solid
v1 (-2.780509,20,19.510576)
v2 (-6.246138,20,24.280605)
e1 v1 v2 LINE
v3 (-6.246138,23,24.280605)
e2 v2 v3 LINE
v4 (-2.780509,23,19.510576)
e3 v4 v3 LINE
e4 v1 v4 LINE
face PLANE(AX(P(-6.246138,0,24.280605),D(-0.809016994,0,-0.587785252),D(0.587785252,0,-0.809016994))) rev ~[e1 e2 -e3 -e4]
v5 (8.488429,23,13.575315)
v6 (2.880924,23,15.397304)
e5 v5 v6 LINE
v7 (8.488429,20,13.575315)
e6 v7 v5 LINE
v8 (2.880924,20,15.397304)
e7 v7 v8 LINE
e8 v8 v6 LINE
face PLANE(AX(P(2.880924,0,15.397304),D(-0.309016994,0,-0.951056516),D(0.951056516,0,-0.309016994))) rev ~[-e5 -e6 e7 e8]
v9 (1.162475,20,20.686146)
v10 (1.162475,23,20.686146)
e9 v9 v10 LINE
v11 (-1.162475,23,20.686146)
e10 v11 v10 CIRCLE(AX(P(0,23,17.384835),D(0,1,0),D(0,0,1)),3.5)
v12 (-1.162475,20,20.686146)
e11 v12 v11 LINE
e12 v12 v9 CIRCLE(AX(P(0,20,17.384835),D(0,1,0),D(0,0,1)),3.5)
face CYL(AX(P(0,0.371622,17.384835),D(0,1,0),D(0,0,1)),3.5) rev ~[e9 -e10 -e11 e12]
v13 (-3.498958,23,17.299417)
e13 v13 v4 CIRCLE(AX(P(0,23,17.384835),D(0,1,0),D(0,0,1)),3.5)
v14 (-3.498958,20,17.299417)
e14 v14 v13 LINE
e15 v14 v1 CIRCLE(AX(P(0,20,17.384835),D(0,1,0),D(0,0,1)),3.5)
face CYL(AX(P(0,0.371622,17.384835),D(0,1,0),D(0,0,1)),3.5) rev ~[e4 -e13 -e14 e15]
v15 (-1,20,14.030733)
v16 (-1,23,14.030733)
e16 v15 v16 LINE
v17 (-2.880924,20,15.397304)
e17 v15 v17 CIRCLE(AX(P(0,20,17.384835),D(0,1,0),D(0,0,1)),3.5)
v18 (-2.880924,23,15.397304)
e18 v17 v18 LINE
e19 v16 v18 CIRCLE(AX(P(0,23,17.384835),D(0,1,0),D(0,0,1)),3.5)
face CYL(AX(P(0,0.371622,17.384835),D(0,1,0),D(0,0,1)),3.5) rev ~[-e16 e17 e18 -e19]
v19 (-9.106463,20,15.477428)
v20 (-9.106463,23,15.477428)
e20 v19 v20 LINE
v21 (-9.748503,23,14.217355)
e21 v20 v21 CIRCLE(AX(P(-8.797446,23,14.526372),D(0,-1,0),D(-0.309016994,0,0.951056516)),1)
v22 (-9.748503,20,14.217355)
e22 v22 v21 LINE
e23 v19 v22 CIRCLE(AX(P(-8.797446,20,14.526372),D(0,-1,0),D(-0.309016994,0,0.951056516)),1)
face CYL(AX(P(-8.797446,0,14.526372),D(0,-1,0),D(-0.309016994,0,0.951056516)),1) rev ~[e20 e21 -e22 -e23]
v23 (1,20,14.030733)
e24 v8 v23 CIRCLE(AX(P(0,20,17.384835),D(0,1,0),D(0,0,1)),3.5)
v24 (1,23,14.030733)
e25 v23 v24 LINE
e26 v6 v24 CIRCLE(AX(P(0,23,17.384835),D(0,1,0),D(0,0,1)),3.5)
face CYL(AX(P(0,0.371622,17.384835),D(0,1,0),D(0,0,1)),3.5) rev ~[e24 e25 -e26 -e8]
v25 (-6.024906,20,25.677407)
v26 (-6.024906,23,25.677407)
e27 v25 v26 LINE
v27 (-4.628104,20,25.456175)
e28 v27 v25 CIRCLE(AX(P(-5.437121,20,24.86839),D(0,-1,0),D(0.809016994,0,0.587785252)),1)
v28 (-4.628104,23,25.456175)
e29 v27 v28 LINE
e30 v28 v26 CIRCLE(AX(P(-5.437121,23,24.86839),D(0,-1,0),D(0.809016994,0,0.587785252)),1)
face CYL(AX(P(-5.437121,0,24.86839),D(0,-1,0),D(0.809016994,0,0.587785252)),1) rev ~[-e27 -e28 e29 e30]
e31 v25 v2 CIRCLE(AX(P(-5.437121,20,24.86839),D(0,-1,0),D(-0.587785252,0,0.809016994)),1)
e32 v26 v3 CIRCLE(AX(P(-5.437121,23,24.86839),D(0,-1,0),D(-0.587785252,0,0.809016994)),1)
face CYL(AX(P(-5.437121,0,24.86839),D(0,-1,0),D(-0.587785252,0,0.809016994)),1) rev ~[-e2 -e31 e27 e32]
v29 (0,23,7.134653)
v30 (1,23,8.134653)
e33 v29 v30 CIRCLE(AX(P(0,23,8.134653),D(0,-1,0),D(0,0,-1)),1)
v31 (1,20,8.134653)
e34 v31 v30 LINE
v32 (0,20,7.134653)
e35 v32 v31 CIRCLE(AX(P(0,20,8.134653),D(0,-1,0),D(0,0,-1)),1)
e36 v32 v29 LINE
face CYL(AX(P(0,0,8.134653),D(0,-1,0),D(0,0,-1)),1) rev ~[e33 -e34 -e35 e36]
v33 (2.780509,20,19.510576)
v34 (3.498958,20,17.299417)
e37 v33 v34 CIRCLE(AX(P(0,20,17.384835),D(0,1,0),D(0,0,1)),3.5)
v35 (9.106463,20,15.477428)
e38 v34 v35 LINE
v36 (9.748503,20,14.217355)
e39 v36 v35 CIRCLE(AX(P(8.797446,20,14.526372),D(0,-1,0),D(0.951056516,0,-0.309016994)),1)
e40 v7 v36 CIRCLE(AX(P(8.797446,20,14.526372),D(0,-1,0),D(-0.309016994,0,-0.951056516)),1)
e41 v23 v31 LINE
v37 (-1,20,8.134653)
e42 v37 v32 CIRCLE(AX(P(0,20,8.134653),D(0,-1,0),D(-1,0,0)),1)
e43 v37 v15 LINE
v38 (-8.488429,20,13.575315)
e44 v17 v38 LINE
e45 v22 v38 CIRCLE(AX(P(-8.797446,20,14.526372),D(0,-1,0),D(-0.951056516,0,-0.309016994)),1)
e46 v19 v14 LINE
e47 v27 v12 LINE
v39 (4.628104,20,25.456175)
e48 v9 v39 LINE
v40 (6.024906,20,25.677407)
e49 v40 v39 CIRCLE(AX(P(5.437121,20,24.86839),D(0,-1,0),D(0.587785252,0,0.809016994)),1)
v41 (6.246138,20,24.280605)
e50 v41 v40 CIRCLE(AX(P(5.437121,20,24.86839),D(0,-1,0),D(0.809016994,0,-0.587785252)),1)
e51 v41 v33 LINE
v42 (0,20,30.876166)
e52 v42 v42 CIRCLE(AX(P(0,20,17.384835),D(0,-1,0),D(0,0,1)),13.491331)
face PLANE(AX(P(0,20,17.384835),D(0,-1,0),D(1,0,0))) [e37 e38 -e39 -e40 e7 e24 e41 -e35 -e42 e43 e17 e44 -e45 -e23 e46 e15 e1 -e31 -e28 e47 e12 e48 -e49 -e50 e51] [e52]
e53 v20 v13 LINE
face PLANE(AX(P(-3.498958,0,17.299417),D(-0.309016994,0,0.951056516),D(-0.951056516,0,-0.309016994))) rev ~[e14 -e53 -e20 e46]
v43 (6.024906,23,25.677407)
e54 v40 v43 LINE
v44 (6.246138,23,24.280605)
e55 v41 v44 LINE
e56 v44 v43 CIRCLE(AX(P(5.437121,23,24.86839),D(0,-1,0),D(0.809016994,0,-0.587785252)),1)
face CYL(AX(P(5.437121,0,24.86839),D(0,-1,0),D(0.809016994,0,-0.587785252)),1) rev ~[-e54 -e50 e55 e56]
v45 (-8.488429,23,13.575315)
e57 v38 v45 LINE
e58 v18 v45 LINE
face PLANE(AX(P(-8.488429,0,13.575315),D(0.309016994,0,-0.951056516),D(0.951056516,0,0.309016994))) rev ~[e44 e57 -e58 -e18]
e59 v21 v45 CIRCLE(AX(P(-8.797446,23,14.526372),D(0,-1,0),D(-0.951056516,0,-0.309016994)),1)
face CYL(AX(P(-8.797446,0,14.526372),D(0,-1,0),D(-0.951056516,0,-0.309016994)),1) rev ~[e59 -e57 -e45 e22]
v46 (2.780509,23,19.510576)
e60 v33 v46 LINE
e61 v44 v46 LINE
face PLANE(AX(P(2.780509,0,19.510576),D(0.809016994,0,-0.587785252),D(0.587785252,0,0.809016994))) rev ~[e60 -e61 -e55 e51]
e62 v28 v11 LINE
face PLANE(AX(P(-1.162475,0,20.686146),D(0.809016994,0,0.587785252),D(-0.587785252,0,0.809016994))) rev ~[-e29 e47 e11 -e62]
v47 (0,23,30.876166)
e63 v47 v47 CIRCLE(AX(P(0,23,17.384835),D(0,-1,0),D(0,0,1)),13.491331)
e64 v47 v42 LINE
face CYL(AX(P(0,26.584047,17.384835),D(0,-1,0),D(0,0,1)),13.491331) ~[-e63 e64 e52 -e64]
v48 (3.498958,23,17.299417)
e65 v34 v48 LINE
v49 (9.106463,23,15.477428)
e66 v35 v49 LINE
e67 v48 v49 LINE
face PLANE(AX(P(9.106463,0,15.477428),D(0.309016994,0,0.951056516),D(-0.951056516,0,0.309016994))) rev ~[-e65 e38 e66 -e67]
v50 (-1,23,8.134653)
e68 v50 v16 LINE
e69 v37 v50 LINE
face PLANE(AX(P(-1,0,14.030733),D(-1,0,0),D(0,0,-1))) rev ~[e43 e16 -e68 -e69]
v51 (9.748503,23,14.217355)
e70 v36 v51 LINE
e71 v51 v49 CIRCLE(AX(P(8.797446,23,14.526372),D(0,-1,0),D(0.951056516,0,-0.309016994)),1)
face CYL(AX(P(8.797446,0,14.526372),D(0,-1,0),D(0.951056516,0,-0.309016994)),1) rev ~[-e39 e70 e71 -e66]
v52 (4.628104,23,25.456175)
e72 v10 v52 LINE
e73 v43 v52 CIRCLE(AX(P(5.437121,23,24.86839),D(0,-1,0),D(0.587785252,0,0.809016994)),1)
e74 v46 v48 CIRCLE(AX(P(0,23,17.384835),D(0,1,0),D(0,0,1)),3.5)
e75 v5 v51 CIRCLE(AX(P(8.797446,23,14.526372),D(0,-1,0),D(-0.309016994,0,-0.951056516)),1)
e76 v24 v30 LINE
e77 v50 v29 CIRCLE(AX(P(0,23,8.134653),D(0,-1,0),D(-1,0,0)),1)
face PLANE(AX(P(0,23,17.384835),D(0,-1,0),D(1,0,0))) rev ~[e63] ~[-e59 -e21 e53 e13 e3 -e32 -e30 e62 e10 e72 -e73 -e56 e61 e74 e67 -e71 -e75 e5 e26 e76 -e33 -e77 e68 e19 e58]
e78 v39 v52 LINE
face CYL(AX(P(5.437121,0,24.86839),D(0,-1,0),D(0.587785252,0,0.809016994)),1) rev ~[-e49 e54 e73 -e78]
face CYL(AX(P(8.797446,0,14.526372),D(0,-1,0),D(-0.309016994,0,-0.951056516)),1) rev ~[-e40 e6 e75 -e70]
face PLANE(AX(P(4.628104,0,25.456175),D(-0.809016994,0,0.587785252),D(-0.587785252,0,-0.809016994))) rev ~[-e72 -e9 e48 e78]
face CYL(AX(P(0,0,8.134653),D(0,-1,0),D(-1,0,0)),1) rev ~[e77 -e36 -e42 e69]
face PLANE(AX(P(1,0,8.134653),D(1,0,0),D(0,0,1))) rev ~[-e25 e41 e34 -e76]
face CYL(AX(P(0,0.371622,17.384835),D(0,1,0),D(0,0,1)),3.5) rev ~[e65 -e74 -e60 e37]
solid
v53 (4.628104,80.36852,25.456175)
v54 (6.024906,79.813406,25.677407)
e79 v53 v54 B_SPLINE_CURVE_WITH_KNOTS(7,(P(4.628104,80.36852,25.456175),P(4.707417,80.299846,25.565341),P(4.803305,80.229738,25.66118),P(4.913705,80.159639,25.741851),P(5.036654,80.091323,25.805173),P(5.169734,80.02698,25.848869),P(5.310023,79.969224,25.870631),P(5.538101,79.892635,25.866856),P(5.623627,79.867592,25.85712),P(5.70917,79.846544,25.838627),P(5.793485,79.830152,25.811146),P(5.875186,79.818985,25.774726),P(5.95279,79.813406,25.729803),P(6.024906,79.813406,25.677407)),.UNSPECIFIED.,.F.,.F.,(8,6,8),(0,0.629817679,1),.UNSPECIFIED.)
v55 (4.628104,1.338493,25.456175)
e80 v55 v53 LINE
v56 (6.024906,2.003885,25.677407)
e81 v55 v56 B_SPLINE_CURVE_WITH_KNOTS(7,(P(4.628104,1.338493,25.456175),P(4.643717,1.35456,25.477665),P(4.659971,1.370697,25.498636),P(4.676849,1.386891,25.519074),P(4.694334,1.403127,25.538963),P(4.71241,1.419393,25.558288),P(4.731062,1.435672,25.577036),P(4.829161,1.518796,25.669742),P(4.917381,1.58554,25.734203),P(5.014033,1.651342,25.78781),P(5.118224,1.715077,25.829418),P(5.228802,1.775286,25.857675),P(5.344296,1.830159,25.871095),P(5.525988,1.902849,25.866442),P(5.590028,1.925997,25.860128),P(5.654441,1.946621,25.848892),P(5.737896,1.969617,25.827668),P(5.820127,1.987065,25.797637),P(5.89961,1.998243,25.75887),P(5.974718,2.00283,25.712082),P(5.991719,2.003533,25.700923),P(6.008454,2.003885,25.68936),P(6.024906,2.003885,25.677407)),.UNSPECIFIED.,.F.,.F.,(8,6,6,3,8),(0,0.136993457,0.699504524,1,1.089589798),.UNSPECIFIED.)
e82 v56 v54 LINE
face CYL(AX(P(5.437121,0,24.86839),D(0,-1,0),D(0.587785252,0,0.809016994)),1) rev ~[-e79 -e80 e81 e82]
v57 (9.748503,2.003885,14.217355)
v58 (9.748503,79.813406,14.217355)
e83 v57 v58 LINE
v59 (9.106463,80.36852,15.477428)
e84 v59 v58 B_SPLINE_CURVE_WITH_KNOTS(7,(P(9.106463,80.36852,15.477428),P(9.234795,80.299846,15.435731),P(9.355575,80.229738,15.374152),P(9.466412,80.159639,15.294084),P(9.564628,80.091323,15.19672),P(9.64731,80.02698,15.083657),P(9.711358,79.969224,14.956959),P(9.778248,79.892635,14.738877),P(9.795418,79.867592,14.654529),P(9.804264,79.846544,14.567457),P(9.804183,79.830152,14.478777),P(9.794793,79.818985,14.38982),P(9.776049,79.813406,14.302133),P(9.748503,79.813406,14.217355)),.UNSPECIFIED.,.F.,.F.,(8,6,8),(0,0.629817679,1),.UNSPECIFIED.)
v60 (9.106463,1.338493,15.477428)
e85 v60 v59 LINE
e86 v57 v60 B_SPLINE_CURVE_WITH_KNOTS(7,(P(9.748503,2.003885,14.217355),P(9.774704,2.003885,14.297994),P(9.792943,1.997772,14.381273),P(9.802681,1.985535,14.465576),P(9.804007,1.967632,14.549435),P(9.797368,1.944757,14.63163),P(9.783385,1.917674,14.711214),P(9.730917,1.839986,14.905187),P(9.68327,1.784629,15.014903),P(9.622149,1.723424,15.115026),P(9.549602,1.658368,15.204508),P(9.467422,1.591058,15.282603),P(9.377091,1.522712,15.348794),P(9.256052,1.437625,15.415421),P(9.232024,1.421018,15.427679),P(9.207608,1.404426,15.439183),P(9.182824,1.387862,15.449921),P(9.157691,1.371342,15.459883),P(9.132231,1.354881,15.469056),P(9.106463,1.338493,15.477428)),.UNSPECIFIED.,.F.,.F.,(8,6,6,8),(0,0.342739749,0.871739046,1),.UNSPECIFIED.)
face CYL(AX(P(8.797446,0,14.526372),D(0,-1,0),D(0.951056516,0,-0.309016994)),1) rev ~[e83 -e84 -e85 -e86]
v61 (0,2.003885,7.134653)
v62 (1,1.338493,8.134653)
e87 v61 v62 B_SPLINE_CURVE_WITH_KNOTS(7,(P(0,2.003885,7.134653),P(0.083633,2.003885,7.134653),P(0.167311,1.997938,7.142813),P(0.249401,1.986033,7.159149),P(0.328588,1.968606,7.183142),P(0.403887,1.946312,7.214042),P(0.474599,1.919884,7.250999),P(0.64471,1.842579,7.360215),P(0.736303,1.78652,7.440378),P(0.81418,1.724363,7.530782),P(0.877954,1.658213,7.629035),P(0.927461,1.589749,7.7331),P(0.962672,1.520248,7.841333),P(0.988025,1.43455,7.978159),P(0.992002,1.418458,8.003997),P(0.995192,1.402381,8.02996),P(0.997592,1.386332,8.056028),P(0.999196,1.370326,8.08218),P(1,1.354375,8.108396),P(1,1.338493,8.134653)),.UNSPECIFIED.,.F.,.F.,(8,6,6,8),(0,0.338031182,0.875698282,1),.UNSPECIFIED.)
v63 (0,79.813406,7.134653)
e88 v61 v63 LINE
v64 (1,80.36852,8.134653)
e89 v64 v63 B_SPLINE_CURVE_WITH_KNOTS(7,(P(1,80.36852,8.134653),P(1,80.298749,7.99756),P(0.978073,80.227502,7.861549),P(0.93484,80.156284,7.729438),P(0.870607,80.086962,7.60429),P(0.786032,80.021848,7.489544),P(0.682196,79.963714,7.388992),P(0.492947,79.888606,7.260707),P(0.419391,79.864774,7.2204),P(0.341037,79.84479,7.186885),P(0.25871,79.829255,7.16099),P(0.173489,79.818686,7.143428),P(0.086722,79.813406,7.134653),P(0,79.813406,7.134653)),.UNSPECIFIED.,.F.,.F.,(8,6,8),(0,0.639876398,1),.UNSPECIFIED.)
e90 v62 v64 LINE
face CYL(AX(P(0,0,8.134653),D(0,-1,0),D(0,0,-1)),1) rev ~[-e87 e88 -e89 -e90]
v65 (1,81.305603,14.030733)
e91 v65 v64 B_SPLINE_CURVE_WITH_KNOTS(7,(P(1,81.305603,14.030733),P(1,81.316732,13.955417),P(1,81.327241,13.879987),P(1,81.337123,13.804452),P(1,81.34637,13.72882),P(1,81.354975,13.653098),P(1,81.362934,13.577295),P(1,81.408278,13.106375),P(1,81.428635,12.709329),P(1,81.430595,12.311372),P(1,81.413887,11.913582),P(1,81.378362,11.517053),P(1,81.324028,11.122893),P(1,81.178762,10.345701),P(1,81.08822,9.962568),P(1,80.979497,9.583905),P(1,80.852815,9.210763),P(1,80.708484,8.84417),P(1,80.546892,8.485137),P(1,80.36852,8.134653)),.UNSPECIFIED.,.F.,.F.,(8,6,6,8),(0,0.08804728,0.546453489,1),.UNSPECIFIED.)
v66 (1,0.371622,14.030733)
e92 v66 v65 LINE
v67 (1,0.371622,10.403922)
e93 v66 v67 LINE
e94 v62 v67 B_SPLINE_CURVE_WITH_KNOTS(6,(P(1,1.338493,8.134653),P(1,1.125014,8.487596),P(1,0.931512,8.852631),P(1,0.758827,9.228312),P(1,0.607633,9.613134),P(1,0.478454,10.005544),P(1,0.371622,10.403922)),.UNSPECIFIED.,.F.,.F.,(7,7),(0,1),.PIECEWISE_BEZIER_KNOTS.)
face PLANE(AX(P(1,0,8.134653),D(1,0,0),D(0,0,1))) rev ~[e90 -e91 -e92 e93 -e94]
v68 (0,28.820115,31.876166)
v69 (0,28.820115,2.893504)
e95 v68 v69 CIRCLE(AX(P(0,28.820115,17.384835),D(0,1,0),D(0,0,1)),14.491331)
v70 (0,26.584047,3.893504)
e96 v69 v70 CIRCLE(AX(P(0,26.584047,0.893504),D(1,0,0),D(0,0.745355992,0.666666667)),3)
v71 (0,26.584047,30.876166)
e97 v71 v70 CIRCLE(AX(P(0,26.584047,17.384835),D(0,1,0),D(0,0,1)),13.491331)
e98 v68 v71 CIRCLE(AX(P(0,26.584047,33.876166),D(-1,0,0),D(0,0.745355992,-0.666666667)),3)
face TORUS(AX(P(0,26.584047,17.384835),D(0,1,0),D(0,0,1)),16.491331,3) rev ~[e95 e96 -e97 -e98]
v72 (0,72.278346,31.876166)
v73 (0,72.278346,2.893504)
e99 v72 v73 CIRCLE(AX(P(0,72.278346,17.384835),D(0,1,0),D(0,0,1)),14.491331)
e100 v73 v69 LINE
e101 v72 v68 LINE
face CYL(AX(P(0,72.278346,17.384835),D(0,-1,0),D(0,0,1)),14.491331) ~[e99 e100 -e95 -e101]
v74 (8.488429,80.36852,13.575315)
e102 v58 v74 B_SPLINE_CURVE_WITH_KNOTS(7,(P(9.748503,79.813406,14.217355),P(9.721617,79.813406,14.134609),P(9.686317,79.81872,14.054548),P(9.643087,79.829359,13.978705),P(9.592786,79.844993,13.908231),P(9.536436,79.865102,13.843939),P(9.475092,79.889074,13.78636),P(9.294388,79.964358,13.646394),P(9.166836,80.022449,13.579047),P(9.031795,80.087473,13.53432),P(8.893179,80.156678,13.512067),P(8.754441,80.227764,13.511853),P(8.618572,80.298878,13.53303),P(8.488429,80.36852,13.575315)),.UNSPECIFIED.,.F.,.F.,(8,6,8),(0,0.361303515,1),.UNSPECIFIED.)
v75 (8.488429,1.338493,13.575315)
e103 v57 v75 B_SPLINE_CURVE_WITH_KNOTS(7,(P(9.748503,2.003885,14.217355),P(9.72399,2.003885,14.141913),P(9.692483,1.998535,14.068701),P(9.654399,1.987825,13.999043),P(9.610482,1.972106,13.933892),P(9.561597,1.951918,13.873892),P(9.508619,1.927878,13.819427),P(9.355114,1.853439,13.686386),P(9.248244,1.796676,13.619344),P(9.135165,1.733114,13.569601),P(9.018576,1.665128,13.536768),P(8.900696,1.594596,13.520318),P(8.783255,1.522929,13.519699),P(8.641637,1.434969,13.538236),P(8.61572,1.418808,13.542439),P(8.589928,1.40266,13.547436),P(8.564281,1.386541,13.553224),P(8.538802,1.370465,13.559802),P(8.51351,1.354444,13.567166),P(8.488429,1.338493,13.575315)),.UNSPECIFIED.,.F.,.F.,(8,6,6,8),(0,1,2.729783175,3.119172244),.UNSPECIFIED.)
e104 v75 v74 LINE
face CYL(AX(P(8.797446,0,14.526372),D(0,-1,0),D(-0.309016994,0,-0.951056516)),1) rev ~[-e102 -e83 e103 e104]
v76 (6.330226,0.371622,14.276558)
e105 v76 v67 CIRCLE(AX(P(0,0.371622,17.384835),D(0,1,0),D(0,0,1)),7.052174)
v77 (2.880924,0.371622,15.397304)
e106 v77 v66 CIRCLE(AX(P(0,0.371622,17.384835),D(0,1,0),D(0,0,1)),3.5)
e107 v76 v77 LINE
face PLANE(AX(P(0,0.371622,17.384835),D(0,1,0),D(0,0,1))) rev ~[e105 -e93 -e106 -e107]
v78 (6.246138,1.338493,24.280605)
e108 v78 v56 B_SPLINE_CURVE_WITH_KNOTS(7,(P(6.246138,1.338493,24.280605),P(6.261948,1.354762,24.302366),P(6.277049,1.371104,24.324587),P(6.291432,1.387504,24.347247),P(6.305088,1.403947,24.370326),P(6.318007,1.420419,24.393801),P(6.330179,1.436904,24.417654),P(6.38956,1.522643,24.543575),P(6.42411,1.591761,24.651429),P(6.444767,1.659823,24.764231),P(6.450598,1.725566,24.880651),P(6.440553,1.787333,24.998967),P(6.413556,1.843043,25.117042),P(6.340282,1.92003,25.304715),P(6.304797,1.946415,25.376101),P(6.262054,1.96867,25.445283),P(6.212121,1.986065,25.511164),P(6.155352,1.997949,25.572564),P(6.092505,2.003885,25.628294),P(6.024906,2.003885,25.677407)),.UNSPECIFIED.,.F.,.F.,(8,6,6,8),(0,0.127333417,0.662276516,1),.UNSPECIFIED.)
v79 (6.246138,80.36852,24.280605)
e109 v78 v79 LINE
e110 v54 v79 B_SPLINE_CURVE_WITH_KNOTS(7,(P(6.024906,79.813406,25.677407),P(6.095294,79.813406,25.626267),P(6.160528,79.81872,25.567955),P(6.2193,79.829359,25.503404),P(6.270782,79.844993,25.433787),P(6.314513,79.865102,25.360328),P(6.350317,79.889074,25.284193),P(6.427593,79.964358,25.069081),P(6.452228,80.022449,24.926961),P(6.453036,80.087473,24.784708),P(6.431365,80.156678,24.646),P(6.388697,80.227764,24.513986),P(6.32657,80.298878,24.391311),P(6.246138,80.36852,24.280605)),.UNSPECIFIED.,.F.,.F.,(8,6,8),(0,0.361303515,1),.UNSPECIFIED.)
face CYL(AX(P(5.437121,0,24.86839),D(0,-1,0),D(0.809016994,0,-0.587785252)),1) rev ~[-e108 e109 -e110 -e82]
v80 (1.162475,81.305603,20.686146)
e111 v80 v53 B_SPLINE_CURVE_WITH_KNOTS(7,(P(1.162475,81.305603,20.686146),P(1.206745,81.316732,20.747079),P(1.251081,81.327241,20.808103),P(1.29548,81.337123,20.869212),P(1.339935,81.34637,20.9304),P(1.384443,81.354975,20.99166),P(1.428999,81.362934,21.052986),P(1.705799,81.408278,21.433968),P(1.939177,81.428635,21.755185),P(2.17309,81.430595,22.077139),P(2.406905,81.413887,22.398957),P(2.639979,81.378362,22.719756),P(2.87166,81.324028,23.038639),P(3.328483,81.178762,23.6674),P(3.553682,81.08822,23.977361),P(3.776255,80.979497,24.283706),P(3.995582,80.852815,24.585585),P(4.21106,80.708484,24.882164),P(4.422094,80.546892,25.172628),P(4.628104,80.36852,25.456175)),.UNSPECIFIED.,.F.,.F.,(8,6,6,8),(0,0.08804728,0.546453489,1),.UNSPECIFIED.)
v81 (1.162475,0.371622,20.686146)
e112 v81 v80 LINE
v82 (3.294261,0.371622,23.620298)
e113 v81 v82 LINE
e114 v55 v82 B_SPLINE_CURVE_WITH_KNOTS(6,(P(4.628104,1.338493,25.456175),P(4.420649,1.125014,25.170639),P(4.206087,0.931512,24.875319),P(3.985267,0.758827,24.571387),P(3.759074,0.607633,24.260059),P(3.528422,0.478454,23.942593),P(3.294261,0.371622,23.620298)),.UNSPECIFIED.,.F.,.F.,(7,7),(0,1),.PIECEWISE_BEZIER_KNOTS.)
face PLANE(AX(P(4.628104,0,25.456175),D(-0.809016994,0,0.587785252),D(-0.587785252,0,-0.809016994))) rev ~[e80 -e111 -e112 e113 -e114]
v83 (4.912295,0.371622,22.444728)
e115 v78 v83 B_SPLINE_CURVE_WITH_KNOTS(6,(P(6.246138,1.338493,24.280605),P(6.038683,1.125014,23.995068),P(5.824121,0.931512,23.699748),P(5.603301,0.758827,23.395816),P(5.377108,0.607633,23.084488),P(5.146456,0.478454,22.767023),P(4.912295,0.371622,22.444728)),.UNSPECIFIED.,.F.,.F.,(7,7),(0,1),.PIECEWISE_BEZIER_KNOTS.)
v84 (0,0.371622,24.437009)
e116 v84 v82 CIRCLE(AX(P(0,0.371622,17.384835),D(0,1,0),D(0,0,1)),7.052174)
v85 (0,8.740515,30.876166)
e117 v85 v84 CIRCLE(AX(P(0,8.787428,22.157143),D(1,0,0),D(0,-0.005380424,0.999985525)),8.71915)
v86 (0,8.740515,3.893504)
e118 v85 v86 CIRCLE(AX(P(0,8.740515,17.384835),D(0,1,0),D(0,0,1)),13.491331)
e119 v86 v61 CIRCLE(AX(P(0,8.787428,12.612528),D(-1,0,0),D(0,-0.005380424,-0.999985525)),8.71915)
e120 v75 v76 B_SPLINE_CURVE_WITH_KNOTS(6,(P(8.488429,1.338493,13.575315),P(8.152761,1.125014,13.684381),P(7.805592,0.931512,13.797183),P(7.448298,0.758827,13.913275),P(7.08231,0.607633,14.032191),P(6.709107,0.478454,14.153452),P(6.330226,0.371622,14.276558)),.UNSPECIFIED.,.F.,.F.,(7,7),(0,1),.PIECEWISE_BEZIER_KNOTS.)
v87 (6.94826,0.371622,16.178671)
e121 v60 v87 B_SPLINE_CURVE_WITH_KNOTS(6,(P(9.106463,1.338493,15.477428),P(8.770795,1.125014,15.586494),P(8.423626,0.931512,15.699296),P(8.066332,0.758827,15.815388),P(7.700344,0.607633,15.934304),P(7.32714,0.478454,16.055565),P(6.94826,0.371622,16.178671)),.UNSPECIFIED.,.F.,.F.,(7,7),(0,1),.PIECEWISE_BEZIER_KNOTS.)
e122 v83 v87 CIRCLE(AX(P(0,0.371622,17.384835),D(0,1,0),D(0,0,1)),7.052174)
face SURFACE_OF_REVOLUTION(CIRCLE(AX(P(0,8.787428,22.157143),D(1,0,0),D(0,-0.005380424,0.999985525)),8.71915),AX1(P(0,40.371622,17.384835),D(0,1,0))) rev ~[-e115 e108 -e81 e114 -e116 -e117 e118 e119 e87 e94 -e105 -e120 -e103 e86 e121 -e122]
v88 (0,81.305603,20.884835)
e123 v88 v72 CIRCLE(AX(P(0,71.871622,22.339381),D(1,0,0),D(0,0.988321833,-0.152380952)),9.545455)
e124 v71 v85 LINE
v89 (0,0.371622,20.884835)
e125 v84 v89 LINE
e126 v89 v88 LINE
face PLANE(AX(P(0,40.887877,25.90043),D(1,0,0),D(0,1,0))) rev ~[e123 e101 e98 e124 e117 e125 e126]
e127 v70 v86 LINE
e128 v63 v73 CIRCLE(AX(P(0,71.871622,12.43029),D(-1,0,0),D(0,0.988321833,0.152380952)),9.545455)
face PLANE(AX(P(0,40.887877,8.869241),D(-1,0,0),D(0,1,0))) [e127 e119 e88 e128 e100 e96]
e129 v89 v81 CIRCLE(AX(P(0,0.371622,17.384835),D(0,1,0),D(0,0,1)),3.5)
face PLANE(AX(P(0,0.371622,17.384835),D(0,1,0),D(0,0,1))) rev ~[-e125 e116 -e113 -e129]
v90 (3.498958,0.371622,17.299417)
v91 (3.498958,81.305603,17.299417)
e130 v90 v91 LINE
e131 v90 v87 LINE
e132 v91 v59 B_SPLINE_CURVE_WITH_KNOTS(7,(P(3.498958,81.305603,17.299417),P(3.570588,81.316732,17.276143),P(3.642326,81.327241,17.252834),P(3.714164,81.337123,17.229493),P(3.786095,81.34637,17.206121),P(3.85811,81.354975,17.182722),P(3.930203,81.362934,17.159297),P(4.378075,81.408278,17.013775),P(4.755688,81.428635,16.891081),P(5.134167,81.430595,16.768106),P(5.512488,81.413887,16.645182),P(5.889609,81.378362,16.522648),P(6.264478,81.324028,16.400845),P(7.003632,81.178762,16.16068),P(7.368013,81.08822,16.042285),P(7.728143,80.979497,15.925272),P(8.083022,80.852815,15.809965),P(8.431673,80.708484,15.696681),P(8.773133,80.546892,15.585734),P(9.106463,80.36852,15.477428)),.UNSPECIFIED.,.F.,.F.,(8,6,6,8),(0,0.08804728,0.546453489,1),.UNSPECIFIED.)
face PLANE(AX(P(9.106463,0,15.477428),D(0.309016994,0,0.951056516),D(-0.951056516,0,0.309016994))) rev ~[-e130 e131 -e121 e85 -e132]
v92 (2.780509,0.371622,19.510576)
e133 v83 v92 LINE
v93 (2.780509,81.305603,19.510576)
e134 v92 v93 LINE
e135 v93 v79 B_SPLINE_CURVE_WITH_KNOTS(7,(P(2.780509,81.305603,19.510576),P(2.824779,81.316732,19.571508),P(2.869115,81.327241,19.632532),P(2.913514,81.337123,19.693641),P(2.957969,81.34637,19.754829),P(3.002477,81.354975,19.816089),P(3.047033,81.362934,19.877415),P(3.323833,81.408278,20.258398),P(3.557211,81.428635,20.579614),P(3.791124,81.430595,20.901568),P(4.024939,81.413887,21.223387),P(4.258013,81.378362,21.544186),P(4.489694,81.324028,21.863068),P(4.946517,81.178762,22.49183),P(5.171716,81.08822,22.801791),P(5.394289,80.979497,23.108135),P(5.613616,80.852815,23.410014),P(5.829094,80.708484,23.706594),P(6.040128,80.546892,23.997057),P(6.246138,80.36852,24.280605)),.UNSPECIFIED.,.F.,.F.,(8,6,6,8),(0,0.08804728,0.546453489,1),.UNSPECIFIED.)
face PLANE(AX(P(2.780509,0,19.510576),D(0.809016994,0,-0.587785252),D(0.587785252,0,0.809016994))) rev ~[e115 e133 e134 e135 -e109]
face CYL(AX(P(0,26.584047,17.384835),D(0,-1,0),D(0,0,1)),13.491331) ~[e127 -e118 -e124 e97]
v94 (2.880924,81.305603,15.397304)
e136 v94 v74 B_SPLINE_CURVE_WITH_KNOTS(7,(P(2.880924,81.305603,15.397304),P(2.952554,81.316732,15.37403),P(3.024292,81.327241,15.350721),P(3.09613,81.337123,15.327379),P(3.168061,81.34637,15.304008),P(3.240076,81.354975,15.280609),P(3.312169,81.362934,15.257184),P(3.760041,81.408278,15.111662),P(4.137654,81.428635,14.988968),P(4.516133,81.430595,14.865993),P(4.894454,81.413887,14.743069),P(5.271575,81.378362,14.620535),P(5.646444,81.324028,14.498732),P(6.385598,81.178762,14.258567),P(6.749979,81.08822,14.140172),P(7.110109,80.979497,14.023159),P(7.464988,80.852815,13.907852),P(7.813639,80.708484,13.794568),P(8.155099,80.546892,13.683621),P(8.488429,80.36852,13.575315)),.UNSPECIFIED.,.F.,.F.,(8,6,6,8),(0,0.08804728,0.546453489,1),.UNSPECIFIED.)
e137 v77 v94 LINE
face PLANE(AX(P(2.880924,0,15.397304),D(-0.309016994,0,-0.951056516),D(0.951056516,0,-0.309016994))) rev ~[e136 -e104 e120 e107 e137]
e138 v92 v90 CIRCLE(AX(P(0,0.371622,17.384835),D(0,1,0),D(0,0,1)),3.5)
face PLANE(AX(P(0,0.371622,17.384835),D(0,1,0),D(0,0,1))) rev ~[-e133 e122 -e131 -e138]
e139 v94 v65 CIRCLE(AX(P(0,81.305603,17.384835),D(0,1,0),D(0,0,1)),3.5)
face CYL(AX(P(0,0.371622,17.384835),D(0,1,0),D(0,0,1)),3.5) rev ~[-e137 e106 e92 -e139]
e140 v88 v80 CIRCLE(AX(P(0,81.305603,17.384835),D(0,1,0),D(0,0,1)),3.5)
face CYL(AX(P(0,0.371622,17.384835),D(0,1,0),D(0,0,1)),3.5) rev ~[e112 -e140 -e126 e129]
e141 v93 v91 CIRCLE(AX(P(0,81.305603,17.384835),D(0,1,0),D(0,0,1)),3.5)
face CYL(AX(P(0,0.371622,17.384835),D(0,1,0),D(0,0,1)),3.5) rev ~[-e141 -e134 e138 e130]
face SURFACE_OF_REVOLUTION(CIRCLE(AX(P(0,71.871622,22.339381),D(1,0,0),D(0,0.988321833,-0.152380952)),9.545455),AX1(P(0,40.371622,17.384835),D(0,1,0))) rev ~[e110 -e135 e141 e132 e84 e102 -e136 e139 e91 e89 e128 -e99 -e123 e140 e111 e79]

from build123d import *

# Parameters (mm, degrees)
F4_ANGLE  = 180
F6_DEPTH  = 90
F8_COUNT  = 5
F12_START = -20
F11_R     = 13.4913344195
F12_DEPTH = 3


with BuildPart() as f4:
    # F3 (on Right) → F4 (revolve)
    with BuildSketch(Plane.YZ):
        with BuildLine():
            Line((0.3716222048, 20.884835436), (81.3056033368, 20.884835436))
            ThreePointArc((81.3056033368, 20.884835436), (79.2480851868, 28.3977219469), (72.2783456923, 31.8761664331))
            Line((72.2783456923, 31.8761664331), (28.8201148927, 31.8761664331))
            ThreePointArc((28.8201148927, 31.8761664331), (27.8087917866, 31.1375536456), (26.5840469152, 30.8761664331))
            Line((26.5840469152, 30.8761664331), (8.8330505692, 30.8761664331))
            Line((8.8330505692, 30.8761664331), (8.7405150061, 30.8761664331))
            ThreePointArc((8.7405150061, 30.8761664331), (3.470465515, 29.0675325384), (0.3716222048, 24.4370089889))
            Line((0.3716222048, 24.4370089889), (0.3716222048, 20.884835436))
        make_face()
    revolve(axis=Axis((0, 40.3716222048, 17.384835436), (0, 1, 0)), revolution_arc=F4_ANGLE)


with BuildPart() as f6:
    # F5 (on Front) → F6 (new body)
    with BuildSketch(Plane.XZ):
        with BuildLine():
            ThreePointArc((1, 14.0307334698), (0, 13.884835436), (-1, 14.0307334698))
            Line((-1, 14.0307334698), (-1, 8.1346530026))
            ThreePointArc((-1, 8.1346530026), (-0.7071067812, 7.4275462214), (0, 7.1346530026))
            ThreePointArc((0, 7.1346530026), (0.7071067812, 7.4275462214), (1, 8.1346530026))
            Line((1, 8.1346530026), (1, 14.0307334698))
        make_face()
    extrude(amount=-F6_DEPTH)


with BuildPart() as f8_1:
    # F8: instance of F6
    add(f6.part.rotate(Axis((0, 20.536005497, 17.384835436), (0, 1, 0)), 1 * 360 / F8_COUNT))


with BuildPart() as f8_2:
    # F8: instance of F6
    add(f6.part.rotate(Axis((0, 20.536005497, 17.384835436), (0, 1, 0)), 2 * 360 / F8_COUNT))


with BuildPart() as f8_3:
    # F8: instance of F6
    add(f6.part.rotate(Axis((0, 20.536005497, 17.384835436), (0, 1, 0)), 3 * 360 / F8_COUNT))


with BuildPart() as f8_4:
    # F8: instance of F6
    add(f6.part.rotate(Axis((0, 20.536005497, 17.384835436), (0, 1, 0)), 4 * 360 / F8_COUNT))


with BuildPart() as f4_1:
    add(f4.part)

    # F9: cut F6, F8_4, F8_3
    add(f6.part, mode=Mode.SUBTRACT)
    add(f8_4.part, mode=Mode.SUBTRACT)
    add(f8_3.part, mode=Mode.SUBTRACT)


with BuildPart() as f10:
    # F3 (on Right) → F10 (revolve)
    with BuildSketch(Plane.YZ):
        with BuildLine():
            Line((0.3716222048, 20.884835436), (81.3056033368, 20.884835436))
            ThreePointArc((81.3056033368, 20.884835436), (79.2480851868, 28.3977219469), (72.2783456923, 31.8761664331))
            Line((72.2783456923, 31.8761664331), (28.8201148927, 31.8761664331))
            ThreePointArc((28.8201148927, 31.8761664331), (27.8087917866, 31.1375536456), (26.5840469152, 30.8761664331))
            Line((26.5840469152, 30.8761664331), (8.8330505692, 30.8761664331))
            Line((8.8330505692, 30.8761664331), (8.7405150061, 30.8761664331))
            ThreePointArc((8.7405150061, 30.8761664331), (3.470465515, 29.0675325384), (0.3716222048, 24.4370089889))
            Line((0.3716222048, 24.4370089889), (0.3716222048, 20.884835436))
        make_face()
    revolve(axis=Axis((0, 40.3716222048, 17.384835436), (0, 1, 0)))

    # F13: cut F6, F8_4, F8_3, F8_2, F8_1
    add(f6.part, mode=Mode.SUBTRACT)
    add(f8_4.part, mode=Mode.SUBTRACT)
    add(f8_3.part, mode=Mode.SUBTRACT)
    add(f8_2.part, mode=Mode.SUBTRACT)
    add(f8_1.part, mode=Mode.SUBTRACT)


with BuildPart() as f12:
    # F11 (on Front) → F12 (new body)
    with BuildSketch(Plane.XZ.offset(F12_START)):
        with Locations((0, 17.384835436)):
            Circle(F11_R)
    extrude(amount=-F12_DEPTH)


with BuildPart() as f10_1:
    add(f10.part)

    # F14: intersect F12
    add(f12.part, mode=Mode.INTERSECT)


solid = Compound([f4_1.part, f10_1.part])
